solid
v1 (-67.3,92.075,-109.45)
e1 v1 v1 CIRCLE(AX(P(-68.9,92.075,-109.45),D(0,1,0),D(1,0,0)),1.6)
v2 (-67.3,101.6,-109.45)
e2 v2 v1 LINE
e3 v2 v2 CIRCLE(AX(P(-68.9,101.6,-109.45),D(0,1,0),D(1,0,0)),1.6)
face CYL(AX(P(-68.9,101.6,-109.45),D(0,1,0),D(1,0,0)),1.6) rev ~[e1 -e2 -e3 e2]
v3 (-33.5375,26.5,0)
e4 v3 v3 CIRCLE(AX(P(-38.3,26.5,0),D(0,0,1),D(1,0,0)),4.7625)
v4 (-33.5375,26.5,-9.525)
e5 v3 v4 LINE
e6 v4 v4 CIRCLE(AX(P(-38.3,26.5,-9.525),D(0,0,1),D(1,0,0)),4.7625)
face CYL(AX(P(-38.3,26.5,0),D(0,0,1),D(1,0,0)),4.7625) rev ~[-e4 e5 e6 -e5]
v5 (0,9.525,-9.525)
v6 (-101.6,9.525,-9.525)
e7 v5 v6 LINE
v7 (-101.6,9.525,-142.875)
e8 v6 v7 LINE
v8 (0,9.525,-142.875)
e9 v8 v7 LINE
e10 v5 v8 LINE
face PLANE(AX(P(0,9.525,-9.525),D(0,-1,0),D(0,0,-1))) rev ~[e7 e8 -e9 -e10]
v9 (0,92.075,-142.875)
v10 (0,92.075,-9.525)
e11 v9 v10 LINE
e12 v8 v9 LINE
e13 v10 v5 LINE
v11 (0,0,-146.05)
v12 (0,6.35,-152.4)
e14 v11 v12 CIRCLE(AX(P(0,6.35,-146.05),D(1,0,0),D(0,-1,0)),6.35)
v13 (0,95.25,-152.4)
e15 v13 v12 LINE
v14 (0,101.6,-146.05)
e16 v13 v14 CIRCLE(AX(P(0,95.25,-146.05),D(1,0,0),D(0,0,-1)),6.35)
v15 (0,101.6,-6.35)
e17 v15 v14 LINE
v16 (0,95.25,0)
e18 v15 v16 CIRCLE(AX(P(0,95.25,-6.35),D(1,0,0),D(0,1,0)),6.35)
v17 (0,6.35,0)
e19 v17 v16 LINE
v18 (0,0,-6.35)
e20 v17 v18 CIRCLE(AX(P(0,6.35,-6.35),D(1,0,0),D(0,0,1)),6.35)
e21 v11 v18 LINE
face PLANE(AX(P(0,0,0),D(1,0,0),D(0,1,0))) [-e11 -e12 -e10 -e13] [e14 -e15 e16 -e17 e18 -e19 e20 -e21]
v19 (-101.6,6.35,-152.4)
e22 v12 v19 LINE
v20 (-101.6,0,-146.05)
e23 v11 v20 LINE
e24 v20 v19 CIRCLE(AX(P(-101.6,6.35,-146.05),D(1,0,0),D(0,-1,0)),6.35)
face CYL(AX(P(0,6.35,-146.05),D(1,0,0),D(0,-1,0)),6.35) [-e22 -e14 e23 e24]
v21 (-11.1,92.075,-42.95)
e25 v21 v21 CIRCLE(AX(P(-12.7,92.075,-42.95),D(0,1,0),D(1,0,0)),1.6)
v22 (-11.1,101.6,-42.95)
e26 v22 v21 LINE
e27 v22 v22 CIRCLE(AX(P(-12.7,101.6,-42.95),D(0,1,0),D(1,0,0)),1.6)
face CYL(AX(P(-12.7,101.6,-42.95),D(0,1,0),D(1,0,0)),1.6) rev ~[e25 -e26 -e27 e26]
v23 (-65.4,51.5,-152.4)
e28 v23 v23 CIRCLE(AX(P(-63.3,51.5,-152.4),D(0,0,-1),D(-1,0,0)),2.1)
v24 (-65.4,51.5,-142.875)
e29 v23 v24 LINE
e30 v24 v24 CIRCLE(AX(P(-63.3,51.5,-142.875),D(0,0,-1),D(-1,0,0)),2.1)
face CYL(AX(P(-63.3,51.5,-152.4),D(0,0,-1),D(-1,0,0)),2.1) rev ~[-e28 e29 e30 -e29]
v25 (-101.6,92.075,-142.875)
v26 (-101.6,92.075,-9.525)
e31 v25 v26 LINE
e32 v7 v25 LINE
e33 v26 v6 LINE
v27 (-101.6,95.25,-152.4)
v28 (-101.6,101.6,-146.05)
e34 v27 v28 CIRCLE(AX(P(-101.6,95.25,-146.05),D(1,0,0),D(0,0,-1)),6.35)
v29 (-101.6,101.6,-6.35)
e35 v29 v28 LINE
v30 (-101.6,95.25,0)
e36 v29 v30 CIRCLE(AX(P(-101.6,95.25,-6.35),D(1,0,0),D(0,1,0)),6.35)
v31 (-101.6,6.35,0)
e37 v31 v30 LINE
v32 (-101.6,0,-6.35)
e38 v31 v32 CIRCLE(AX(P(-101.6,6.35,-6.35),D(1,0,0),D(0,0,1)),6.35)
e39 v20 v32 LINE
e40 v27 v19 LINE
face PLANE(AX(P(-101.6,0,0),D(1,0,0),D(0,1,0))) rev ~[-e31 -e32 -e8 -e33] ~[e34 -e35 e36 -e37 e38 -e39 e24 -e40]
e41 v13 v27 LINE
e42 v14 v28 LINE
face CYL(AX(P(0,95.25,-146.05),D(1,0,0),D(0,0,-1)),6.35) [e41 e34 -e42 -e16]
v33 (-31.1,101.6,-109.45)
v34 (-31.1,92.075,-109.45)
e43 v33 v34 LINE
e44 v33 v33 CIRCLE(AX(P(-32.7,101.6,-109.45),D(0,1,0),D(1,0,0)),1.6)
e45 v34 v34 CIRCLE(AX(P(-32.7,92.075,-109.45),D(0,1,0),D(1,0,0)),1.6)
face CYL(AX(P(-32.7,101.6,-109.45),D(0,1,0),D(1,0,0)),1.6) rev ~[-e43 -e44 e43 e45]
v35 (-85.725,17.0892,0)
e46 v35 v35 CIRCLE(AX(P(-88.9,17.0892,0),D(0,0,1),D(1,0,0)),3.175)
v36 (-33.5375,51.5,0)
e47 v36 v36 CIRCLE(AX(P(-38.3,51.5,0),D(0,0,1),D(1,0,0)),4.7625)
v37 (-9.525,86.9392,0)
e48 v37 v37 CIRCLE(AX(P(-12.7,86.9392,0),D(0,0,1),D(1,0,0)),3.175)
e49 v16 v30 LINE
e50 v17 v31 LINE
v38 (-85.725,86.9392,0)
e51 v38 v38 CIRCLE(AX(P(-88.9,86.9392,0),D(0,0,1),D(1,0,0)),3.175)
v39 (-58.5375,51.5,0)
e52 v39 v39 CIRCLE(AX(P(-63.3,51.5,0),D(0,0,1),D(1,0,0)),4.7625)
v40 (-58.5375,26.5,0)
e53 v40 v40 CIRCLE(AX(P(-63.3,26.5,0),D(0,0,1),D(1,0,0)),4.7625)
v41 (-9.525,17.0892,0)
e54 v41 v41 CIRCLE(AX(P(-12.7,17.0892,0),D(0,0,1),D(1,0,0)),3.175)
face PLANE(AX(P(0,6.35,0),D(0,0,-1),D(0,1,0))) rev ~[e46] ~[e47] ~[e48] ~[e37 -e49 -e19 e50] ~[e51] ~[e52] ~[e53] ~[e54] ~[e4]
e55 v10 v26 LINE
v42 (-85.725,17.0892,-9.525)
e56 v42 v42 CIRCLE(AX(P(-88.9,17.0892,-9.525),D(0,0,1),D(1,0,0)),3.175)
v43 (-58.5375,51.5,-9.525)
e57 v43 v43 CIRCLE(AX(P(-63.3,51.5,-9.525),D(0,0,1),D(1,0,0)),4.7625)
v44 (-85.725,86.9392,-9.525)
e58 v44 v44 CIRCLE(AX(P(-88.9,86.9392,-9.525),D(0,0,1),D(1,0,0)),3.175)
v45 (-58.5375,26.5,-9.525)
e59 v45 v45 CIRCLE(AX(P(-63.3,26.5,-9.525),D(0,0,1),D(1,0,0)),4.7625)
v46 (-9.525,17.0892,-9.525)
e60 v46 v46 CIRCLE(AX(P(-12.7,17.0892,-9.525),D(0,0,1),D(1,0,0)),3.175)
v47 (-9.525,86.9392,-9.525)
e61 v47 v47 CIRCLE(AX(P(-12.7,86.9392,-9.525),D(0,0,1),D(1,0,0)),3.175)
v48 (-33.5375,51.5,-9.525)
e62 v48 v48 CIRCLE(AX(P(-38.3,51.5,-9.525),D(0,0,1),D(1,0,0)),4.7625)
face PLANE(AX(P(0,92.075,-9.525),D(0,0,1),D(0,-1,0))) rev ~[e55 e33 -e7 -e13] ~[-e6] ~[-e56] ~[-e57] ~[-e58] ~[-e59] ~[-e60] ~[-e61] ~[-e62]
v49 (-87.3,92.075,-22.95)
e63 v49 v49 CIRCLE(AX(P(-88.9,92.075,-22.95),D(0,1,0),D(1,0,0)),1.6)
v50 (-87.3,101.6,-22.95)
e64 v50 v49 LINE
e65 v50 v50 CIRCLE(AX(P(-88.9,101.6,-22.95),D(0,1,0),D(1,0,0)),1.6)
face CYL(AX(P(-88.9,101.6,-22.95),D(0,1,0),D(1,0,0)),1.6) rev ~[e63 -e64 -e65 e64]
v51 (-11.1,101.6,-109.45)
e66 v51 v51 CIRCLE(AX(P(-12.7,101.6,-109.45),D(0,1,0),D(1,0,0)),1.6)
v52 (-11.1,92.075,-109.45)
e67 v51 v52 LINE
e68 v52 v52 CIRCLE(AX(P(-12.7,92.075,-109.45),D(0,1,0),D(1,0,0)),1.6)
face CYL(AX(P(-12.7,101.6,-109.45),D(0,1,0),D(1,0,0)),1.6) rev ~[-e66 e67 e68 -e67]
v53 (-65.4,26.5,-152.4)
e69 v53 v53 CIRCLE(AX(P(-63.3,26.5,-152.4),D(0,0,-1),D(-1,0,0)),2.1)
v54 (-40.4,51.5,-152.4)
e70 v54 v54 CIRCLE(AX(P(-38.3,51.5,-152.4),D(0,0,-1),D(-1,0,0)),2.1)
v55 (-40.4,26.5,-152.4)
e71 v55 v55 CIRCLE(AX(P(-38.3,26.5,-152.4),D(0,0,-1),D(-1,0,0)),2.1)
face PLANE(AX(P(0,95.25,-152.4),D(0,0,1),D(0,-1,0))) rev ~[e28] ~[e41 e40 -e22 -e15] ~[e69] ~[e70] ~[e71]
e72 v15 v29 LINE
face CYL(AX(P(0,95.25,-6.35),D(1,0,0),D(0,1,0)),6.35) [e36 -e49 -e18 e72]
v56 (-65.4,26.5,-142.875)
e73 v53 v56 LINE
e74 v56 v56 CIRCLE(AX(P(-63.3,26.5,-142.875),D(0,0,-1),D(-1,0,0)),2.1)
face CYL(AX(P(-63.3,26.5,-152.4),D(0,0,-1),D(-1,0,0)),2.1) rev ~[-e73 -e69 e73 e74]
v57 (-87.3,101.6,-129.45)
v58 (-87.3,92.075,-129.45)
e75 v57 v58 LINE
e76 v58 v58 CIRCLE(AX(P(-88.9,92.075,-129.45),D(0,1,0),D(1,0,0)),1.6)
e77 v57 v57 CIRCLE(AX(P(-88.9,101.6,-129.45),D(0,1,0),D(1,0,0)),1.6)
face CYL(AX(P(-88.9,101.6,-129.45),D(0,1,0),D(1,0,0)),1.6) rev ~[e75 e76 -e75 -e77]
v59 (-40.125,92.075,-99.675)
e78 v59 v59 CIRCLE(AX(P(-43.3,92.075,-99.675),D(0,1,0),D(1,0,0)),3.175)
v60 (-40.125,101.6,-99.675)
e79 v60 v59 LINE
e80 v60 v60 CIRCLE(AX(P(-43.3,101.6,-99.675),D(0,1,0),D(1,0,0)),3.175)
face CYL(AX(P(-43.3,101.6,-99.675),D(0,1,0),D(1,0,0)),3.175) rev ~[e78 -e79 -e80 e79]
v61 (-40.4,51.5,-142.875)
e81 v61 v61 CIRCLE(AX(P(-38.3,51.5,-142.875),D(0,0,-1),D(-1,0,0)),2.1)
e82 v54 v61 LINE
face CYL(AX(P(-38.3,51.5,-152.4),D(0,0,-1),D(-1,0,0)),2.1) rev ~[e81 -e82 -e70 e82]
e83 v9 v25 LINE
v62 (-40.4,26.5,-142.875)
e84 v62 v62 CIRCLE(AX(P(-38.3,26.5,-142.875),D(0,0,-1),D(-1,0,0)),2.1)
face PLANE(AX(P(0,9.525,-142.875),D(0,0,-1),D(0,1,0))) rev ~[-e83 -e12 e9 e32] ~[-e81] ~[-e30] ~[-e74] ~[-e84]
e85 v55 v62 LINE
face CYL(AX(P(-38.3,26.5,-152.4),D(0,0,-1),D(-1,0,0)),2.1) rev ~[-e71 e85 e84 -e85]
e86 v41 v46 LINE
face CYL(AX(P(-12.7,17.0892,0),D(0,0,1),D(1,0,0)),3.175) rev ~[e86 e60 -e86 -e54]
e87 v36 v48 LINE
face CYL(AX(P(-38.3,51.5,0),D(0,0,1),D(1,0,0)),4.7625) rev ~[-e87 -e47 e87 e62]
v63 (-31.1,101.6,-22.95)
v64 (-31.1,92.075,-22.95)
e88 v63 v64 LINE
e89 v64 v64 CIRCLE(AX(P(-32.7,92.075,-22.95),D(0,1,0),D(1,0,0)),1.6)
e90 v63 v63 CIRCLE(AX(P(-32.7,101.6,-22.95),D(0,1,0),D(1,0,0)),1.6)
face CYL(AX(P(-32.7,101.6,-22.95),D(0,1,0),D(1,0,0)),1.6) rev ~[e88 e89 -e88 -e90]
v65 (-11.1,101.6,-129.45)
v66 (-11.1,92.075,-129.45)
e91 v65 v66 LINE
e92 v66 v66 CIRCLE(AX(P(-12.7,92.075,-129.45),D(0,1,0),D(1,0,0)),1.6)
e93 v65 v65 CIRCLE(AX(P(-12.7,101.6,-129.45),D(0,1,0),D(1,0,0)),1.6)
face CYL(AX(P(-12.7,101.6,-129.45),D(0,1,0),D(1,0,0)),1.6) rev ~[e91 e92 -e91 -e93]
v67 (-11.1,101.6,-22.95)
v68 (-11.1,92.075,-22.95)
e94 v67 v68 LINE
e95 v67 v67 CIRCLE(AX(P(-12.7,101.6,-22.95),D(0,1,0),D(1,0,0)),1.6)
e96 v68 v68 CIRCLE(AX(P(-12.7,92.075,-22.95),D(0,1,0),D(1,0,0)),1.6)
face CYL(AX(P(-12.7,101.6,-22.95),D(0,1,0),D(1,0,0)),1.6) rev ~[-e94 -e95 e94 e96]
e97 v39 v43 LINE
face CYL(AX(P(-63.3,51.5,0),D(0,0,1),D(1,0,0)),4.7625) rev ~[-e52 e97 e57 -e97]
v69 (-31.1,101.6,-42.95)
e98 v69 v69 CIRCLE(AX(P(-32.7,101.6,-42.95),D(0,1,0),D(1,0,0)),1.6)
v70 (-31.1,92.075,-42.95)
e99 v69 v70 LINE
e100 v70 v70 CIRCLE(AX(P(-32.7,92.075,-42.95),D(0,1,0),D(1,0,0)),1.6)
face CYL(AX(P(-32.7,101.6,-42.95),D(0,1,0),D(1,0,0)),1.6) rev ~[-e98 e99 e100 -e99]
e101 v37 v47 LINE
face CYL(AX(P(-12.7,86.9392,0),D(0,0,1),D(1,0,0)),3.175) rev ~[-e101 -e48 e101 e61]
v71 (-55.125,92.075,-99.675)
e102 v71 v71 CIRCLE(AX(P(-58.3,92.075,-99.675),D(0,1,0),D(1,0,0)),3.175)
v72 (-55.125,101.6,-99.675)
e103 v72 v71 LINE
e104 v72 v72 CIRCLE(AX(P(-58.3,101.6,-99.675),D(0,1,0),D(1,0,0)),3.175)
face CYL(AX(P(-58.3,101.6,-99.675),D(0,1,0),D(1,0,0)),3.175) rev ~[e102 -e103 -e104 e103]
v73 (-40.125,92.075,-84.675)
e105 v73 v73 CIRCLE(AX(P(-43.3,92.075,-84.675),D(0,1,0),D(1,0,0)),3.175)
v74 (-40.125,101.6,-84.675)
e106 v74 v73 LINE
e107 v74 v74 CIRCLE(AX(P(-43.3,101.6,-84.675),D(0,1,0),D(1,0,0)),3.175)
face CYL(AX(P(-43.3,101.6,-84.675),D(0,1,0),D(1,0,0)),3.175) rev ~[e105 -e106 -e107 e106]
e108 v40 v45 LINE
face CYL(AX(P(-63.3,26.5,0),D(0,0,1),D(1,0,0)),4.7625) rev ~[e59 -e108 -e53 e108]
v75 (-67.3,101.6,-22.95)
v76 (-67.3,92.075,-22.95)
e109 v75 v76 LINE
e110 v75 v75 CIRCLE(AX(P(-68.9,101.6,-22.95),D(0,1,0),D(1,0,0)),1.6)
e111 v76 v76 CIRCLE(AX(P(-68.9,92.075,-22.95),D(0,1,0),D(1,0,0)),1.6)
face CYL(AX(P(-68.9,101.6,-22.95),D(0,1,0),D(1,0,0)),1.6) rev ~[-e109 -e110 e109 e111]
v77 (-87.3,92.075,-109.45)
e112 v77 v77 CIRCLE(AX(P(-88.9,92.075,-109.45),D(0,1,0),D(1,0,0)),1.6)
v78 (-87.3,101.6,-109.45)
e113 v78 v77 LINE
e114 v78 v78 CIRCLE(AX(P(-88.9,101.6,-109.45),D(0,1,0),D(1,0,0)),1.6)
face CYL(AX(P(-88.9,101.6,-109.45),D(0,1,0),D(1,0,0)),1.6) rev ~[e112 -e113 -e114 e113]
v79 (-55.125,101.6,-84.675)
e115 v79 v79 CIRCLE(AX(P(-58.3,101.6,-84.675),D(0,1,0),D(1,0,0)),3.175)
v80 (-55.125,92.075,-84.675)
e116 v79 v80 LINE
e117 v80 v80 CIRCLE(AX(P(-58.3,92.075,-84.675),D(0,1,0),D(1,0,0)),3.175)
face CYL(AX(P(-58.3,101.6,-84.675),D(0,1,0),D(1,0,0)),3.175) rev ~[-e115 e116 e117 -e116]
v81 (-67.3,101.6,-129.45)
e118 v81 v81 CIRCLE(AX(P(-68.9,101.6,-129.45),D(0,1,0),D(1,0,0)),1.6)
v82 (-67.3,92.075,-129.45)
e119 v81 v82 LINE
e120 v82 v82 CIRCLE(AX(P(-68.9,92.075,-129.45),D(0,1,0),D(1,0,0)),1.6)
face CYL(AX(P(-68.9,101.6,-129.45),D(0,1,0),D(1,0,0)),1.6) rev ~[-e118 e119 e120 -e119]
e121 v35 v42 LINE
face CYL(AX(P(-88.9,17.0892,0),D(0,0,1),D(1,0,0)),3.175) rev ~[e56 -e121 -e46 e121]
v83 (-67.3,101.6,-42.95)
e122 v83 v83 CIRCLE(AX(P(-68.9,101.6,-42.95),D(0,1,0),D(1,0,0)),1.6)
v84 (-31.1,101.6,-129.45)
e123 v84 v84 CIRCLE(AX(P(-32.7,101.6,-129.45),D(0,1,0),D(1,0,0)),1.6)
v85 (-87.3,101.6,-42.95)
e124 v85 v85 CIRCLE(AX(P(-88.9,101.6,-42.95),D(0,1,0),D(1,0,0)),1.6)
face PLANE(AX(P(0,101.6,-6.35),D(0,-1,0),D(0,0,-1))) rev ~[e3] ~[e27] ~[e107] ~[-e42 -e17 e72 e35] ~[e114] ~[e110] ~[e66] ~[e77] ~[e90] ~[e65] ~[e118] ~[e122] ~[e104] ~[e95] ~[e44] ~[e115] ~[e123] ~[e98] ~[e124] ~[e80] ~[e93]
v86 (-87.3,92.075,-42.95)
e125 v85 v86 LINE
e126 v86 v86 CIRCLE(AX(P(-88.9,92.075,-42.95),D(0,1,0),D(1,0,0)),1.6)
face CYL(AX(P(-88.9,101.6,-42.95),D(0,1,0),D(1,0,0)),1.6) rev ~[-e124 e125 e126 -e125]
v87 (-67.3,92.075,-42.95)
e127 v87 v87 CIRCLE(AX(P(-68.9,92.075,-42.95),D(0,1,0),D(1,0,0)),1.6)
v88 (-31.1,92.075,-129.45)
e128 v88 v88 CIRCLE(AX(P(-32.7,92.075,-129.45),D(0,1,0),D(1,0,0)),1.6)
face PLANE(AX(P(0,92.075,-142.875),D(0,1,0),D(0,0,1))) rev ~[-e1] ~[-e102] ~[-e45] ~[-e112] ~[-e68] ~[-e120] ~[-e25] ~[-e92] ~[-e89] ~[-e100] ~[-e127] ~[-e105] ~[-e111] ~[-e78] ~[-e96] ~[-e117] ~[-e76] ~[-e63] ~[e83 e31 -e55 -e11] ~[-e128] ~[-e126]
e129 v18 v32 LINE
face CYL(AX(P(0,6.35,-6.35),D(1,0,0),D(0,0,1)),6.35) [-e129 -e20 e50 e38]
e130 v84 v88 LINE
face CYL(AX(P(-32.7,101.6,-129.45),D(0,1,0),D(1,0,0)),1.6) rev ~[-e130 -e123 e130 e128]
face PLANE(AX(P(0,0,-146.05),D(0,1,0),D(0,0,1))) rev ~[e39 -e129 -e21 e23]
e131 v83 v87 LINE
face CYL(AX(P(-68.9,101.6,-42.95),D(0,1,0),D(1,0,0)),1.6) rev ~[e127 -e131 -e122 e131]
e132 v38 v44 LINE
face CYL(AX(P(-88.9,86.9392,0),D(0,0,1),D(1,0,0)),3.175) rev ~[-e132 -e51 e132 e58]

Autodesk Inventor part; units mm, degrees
ref_plane "YZ Plane" through (0, 0, 0) normal (1, 0, 0) x (0, 1, 0)
ref_plane "XZ Plane" through (0, 0, 0) normal (0, 1, 0) x (-1, 0, 0)
ref_plane "XY Plane" through (0, 0, 0) normal (0, 0, 1) x (1, 0, 0)
sketch "Sketch1" plane through (0, 0, 0) normal (1, 0, 0) x (0, 1, 0)
  line L0 (6.35, 0) -> (95.25, 0)
  line L1 (101.6, -6.35) -> (101.6, -146.05)
  line L2 (95.25, -152.4) -> (6.35, -152.4)
  line L3 (0, -146.05) -> (0, -6.35)
  arc A0 (101.6, -6.35) -> (95.25, 0) centre (95.25, -6.35) ccw
  arc A1 (95.25, -152.4) -> (101.6, -146.05) centre (95.25, -146.05) ccw
  arc A2 (0, -146.05) -> (6.35, -152.4) centre (6.35, -146.05) ccw
  arc A3 (6.35, 0) -> (0, -6.35) centre (6.35, -6.35) ccw
  line L4 (92.075, -142.875) -> (92.075, -9.525)
  line L5 (92.075, -9.525) -> (9.525, -9.525)
  line L6 (9.525, -9.525) -> (9.525, -142.875)
  line L7 (9.525, -142.875) -> (92.075, -142.875)
  point P0 (0, 0)
  point P1 (101.6, -152.4)
  point P2 (101.6, 0)
  point P3 (0, -152.4)
  dimension "d0" = 101.6
  dimension "d1" = 152.4
  dimension "d2" = 6.35
  dimension "d3" = 6.35
  dimension "d4" = 9.525
extrude "Extrusion1" add sketch "Sketch1" against normal blind 101.6
sketch "Sketch2" plane through (0, 101.6, -6.35) normal (0, 1, 0) x (1, 0, 0)
  line L0 (0, 0) -> (0, 139.7) construction
  line L1 (0, 69.85) -> (-101.6, 69.85) construction
  line L2 (-101.6, 139.7) -> (-101.6, 0) construction
  line L3 (0, 99.6) -> (-45.4, 99.6) construction
  line L4 (-45.4, 99.6) -> (-45.4, 126.6) construction
  line L5 (-45.4, 126.6) -> (0, 126.6) construction
  line L6 (0, 126.6) -> (0, 99.6) construction
  line L7 (-32.7, 123.1) -> (-12.7, 123.1) construction
  line L8 (-12.7, 123.1) -> (-12.7, 103.1) construction
  line L9 (-12.7, 103.1) -> (-32.7, 103.1) construction
  line L10 (-32.7, 103.1) -> (-32.7, 123.1) construction
  line L11 (-32.7, 123.1) -> (-32.7, 126.6) construction
  line L12 (-32.7, 123.1) -> (-45.4, 123.1) construction
  line L13 (-12.7, 103.1) -> (-12.7, 99.6) construction
  line L14 (-12.7, 103.1) -> (0, 103.1) construction
  circle A0 centre (-32.7, 123.1) radius 1.6
  circle A1 centre (-12.7, 123.1) radius 1.6
  circle A2 centre (-12.7, 103.1) radius 1.6
  circle A3 centre (-32.7, 103.1) radius 1.6
  line L15 (0, 139.7) -> (0, 0) construction
  line L16 (-50.8, 69.85) -> (-50.8, 128.3257) construction
  line L17 (-101.6, 99.6) -> (-56.2, 99.6) construction
  line L18 (-56.2, 99.6) -> (-56.2, 126.6) construction
  line L19 (-56.2, 126.6) -> (-101.6, 126.6) construction
  line L20 (-101.6, 126.6) -> (-101.6, 99.6) construction
  line L21 (-68.9, 123.1) -> (-88.9, 123.1) construction
  line L22 (-88.9, 123.1) -> (-88.9, 103.1) construction
  line L23 (-88.9, 103.1) -> (-68.9, 103.1) construction
  line L24 (-68.9, 103.1) -> (-68.9, 123.1) construction
  line L25 (-68.9, 123.1) -> (-68.9, 126.6) construction
  line L26 (-68.9, 123.1) -> (-56.2, 123.1) construction
  line L27 (-88.9, 103.1) -> (-88.9, 99.6) construction
  line L28 (-88.9, 103.1) -> (-101.6, 103.1) construction
  circle A4 centre (-68.9, 123.1) radius 1.6
  circle A5 centre (-88.9, 123.1) radius 1.6
  circle A6 centre (-88.9, 103.1) radius 1.6
  circle A7 centre (-68.9, 103.1) radius 1.6
  line L29 (0, 40.1) -> (-45.4, 40.1) construction
  line L30 (-45.4, 40.1) -> (-45.4, 13.1) construction
  line L31 (-45.4, 13.1) -> (0, 13.1) construction
  line L32 (0, 13.1) -> (0, 40.1) construction
  line L33 (-32.7, 16.6) -> (-12.7, 16.6) construction
  line L34 (-12.7, 16.6) -> (-12.7, 36.6) construction
  line L35 (-12.7, 36.6) -> (-32.7, 36.6) construction
  line L36 (-32.7, 36.6) -> (-32.7, 16.6) construction
  line L37 (-32.7, 16.6) -> (-32.7, 13.1) construction
  line L38 (-32.7, 16.6) -> (-45.4, 16.6) construction
  line L39 (-12.7, 36.6) -> (-12.7, 40.1) construction
  line L40 (-12.7, 36.6) -> (0, 36.6) construction
  circle A8 centre (-32.7, 16.6) radius 1.6
  circle A9 centre (-12.7, 16.6) radius 1.6
  circle A10 centre (-12.7, 36.6) radius 1.6
  circle A11 centre (-32.7, 36.6) radius 1.6
  line L41 (-68.9, 16.6) -> (-88.9, 16.6) construction
  line L42 (-88.9, 36.6) -> (-68.9, 36.6) construction
  line L43 (-88.9, 36.6) -> (-88.9, 40.1) construction
  line L44 (-88.9, 16.6) -> (-88.9, 36.6) construction
  circle A12 centre (-88.9, 36.6) radius 1.6
  circle A13 centre (-88.9, 16.6) radius 1.6
  line L45 (-101.6, 40.1) -> (-56.2, 40.1) construction
  line L46 (-101.6, 13.1) -> (-101.6, 40.1) construction
  line L47 (-88.9, 36.6) -> (-101.6, 36.6) construction
  line L48 (-56.2, 13.1) -> (-101.6, 13.1) construction
  line L49 (-68.9, 36.6) -> (-68.9, 16.6) construction
  line L50 (-68.9, 16.6) -> (-68.9, 13.1) construction
  circle A14 centre (-68.9, 16.6) radius 1.6
  circle A15 centre (-68.9, 36.6) radius 1.6
  line L51 (-56.2, 40.1) -> (-56.2, 13.1) construction
  line L52 (-68.9, 16.6) -> (-56.2, 16.6) construction
  point P0 (0, -6.35)
  dimension "d7" = 45.4
  dimension "d8" = 27
  dimension "d9" = 20
  dimension "d10" = 20
  dimension "d11" = 3.2
  dimension "d12" = 3.2
  dimension "d13" = 3.2
  dimension "d14" = 3.2
  dimension "d15" = 106.5
extrude "Extrusion2" cut sketch "Sketch2" against normal up to next
sketch "Sketch3" plane through (0, 6.35, -152.4) normal (0, 0, -1) x (-1, 0, 0)
  line L0 (38.3, 45.15) -> (63.3, 45.15) construction
  line L1 (63.3, 45.15) -> (63.3, 20.15) construction
  line L2 (63.3, 20.15) -> (38.3, 20.15) construction
  line L3 (38.3, 20.15) -> (38.3, 45.15) construction
  circle A0 centre (38.3, 45.15) radius 2.1
  circle A1 centre (63.3, 45.15) radius 2.1
  circle A2 centre (63.3, 20.15) radius 2.1
  circle A3 centre (38.3, 20.15) radius 2.1
  line L4 (0, -6.35) -> (101.6, -6.35) construction
  line L5 (38.3, 32.65) -> (0, 32.65) construction
  line L6 (0, 0) -> (0, 88.9) construction
  line L7 (63.3, 32.65) -> (101.6, 32.65) construction
  line L8 (101.6, 88.9) -> (101.6, 0) construction
  dimension "d18" = 25
  dimension "d19" = 25
  dimension "d20" = 4.2
  dimension "d21" = 4.2
  dimension "d22" = 4.2
  dimension "d23" = 4.2
  dimension "d24" = 26.5
extrude "Extrusion3" cut sketch "Sketch3" against normal up to next
sketch "Sketch4" plane through (0, 6.35, 0) normal (0, 0, 1) x (1, 0, 0)
  line L0 (-88.9, 80.5892) -> (-12.7, 80.5892) construction
  line L1 (-12.7, 80.5892) -> (-12.7, 10.7392) construction
  line L2 (-12.7, 10.7392) -> (-88.9, 10.7392) construction
  line L3 (-88.9, 10.7392) -> (-88.9, 80.5892) construction
  line L4 (-88.9, 80.5892) -> (-88.9, 97.6783) construction
  line L5 (-88.9, 80.5892) -> (-101.6, 80.5892) construction
  line L6 (-101.6, 85.725) -> (-101.6, 3.175) construction
  line L7 (-12.7, 10.7392) -> (-12.7, -6.35) construction
  line L8 (0, -6.35) -> (-101.6, -6.35) construction
  line L9 (-12.7, 10.7392) -> (0, 10.7392) construction
  line L10 (0, 85.725) -> (0, 3.175) construction
  circle A0 centre (-12.7, 80.5892) radius 3.175
  circle A1 centre (-12.7, 10.7392) radius 3.175
  circle A2 centre (-88.9, 10.7392) radius 3.175
  circle A3 centre (-88.9, 80.5892) radius 3.175
  circle A4 centre (-63.3, 45.15) radius 2.1 projected
  circle A5 centre (-63.3, 20.15) radius 2.1 projected
  circle A6 centre (-38.3, 45.15) radius 2.1 projected
  circle A7 centre (-38.3, 20.15) radius 2.1 projected
  circle A8 centre (-63.3, 45.15) radius 4.7625
  circle A9 centre (-38.3, 45.15) radius 2.1 projected
  circle A10 centre (-38.3, 45.15) radius 4.7625
  circle A11 centre (-63.3, 20.15) radius 2.1 projected
  circle A12 centre (-63.3, 20.15) radius 4.7625
  circle A13 centre (-38.3, 20.15) radius 2.1 projected
  circle A14 centre (-38.3, 20.15) radius 4.7625
  dimension "d27" = 6.35
  dimension "d28" = 6.35
  dimension "d29" = 6.35
  dimension "d30" = 6.35
  dimension "d31" = 69.85
  dimension "d32" = 76.2
  dimension "d33" = 9.525
  dimension "d34" = 9.525
  dimension "d35" = 9.525
  dimension "d36" = 9.525
extrude "Extrusion4" cut sketch "Sketch4" against normal up to next contours A0 | A1 | A2 | A3 | A4 | A5 | A6 | A7 | A8 | A10 | A12 | A14
thread "Thread1" size "1/4-20 UNC" class "2B" standard "ANSI Unified Screw Threads" full length
thread "Thread2" size "1/4-20 UNC" class "2B" standard "ANSI Unified Screw Threads" full length
thread "Thread3" size "1/4-20 UNC" class "2B" standard "ANSI Unified Screw Threads" full length
thread "Thread4" size "1/4-20 UNC" class "2B" standard "ANSI Unified Screw Threads" full length
sketch "Sketch5" plane through (0, 101.6, -6.35) normal (0, 1, 0) x (1, 0, 0)
  line L0 (21.1594, 98.325) -> (-128.3175, 98.325) construction
  line L1 (0, 146.05) -> (-101.6, 146.05) construction
  circle A0 centre (-32.7, 103.1) radius 1.6 construction
  circle A1 centre (-32.7, 103.1) radius 2.75 construction
  line L2 (0, 3.175) -> (0, 136.525) construction
  line L3 (-101.6, 136.525) -> (-101.6, 3.175) construction
  line L4 (0, 98.325) -> (-101.6, 98.325) construction
  line L5 (-101.6, 98.325) -> (-101.6, 73.325) construction
  line L6 (-101.6, 73.325) -> (0, 73.325) construction
  line L7 (0, 73.325) -> (0, 98.325) construction
  line L8 (-43.3, 78.325) -> (-58.3, 78.325) construction
  line L9 (-58.3, 78.325) -> (-58.3, 93.325) construction
  line L10 (-58.3, 93.325) -> (-43.3, 93.325) construction
  line L11 (-43.3, 93.325) -> (-43.3, 78.325) construction
  line L12 (-43.3, 78.325) -> (0, 78.325) construction
  line L13 (-58.3, 93.325) -> (-101.6, 93.325) construction
  line L14 (-58.3, 93.325) -> (-58.3, 98.325) construction
  line L15 (-43.3, 78.325) -> (-43.3, 73.325) construction
  circle A2 centre (-43.3, 78.325) radius 3.175
  circle A3 centre (-58.3, 78.325) radius 3.175
  circle A4 centre (-58.3, 93.325) radius 3.175
  circle A5 centre (-43.3, 93.325) radius 3.175
  point P0 (0, -6.35)
  dimension "d47" = 47.725
  dimension "d48" = 5.5
  dimension "d49" = 25
  dimension "d50" = 15
  dimension "d51" = 15
  dimension "d52" = 6.35
  dimension "d53" = 6.35
  dimension "d54" = 6.35
  dimension "d55" = 6.35
extrude "Extrusion5" cut sketch "Sketch5" against normal up to next
thread "Thread5" size "1/4-20 UNC" class "2B" standard "ANSI Unified Screw Threads" full length
thread "Thread6" size "1/4-20 UNC" class "2B" standard "ANSI Unified Screw Threads" full length
thread "Thread7" size "1/4-20 UNC" class "2B" standard "ANSI Unified Screw Threads" full length
thread "Thread8" size "1/4-20 UNC" class "2B" standard "ANSI Unified Screw Threads" full length
equation "\"d12\" = d11"
equation "\"d13\" = d11"
equation "\"d14\" = d11"
equation "\"d16\" = d12"
equation "\"d21\" = d20"
equation "\"d22\" = d20"
equation "\"d23\" = d20"
equation "\"d34\" = d33"
equation "\"d35\" = d33"
equation "\"d36\" = d33"
equation "\"d37\" = d33"
equation "\"d53\" = d52"
equation "\"d54\" = d52"
equation "\"d55\" = d52"
properties part number "4in x 6in Steel Rectangular Tubing 4in long Machined"
